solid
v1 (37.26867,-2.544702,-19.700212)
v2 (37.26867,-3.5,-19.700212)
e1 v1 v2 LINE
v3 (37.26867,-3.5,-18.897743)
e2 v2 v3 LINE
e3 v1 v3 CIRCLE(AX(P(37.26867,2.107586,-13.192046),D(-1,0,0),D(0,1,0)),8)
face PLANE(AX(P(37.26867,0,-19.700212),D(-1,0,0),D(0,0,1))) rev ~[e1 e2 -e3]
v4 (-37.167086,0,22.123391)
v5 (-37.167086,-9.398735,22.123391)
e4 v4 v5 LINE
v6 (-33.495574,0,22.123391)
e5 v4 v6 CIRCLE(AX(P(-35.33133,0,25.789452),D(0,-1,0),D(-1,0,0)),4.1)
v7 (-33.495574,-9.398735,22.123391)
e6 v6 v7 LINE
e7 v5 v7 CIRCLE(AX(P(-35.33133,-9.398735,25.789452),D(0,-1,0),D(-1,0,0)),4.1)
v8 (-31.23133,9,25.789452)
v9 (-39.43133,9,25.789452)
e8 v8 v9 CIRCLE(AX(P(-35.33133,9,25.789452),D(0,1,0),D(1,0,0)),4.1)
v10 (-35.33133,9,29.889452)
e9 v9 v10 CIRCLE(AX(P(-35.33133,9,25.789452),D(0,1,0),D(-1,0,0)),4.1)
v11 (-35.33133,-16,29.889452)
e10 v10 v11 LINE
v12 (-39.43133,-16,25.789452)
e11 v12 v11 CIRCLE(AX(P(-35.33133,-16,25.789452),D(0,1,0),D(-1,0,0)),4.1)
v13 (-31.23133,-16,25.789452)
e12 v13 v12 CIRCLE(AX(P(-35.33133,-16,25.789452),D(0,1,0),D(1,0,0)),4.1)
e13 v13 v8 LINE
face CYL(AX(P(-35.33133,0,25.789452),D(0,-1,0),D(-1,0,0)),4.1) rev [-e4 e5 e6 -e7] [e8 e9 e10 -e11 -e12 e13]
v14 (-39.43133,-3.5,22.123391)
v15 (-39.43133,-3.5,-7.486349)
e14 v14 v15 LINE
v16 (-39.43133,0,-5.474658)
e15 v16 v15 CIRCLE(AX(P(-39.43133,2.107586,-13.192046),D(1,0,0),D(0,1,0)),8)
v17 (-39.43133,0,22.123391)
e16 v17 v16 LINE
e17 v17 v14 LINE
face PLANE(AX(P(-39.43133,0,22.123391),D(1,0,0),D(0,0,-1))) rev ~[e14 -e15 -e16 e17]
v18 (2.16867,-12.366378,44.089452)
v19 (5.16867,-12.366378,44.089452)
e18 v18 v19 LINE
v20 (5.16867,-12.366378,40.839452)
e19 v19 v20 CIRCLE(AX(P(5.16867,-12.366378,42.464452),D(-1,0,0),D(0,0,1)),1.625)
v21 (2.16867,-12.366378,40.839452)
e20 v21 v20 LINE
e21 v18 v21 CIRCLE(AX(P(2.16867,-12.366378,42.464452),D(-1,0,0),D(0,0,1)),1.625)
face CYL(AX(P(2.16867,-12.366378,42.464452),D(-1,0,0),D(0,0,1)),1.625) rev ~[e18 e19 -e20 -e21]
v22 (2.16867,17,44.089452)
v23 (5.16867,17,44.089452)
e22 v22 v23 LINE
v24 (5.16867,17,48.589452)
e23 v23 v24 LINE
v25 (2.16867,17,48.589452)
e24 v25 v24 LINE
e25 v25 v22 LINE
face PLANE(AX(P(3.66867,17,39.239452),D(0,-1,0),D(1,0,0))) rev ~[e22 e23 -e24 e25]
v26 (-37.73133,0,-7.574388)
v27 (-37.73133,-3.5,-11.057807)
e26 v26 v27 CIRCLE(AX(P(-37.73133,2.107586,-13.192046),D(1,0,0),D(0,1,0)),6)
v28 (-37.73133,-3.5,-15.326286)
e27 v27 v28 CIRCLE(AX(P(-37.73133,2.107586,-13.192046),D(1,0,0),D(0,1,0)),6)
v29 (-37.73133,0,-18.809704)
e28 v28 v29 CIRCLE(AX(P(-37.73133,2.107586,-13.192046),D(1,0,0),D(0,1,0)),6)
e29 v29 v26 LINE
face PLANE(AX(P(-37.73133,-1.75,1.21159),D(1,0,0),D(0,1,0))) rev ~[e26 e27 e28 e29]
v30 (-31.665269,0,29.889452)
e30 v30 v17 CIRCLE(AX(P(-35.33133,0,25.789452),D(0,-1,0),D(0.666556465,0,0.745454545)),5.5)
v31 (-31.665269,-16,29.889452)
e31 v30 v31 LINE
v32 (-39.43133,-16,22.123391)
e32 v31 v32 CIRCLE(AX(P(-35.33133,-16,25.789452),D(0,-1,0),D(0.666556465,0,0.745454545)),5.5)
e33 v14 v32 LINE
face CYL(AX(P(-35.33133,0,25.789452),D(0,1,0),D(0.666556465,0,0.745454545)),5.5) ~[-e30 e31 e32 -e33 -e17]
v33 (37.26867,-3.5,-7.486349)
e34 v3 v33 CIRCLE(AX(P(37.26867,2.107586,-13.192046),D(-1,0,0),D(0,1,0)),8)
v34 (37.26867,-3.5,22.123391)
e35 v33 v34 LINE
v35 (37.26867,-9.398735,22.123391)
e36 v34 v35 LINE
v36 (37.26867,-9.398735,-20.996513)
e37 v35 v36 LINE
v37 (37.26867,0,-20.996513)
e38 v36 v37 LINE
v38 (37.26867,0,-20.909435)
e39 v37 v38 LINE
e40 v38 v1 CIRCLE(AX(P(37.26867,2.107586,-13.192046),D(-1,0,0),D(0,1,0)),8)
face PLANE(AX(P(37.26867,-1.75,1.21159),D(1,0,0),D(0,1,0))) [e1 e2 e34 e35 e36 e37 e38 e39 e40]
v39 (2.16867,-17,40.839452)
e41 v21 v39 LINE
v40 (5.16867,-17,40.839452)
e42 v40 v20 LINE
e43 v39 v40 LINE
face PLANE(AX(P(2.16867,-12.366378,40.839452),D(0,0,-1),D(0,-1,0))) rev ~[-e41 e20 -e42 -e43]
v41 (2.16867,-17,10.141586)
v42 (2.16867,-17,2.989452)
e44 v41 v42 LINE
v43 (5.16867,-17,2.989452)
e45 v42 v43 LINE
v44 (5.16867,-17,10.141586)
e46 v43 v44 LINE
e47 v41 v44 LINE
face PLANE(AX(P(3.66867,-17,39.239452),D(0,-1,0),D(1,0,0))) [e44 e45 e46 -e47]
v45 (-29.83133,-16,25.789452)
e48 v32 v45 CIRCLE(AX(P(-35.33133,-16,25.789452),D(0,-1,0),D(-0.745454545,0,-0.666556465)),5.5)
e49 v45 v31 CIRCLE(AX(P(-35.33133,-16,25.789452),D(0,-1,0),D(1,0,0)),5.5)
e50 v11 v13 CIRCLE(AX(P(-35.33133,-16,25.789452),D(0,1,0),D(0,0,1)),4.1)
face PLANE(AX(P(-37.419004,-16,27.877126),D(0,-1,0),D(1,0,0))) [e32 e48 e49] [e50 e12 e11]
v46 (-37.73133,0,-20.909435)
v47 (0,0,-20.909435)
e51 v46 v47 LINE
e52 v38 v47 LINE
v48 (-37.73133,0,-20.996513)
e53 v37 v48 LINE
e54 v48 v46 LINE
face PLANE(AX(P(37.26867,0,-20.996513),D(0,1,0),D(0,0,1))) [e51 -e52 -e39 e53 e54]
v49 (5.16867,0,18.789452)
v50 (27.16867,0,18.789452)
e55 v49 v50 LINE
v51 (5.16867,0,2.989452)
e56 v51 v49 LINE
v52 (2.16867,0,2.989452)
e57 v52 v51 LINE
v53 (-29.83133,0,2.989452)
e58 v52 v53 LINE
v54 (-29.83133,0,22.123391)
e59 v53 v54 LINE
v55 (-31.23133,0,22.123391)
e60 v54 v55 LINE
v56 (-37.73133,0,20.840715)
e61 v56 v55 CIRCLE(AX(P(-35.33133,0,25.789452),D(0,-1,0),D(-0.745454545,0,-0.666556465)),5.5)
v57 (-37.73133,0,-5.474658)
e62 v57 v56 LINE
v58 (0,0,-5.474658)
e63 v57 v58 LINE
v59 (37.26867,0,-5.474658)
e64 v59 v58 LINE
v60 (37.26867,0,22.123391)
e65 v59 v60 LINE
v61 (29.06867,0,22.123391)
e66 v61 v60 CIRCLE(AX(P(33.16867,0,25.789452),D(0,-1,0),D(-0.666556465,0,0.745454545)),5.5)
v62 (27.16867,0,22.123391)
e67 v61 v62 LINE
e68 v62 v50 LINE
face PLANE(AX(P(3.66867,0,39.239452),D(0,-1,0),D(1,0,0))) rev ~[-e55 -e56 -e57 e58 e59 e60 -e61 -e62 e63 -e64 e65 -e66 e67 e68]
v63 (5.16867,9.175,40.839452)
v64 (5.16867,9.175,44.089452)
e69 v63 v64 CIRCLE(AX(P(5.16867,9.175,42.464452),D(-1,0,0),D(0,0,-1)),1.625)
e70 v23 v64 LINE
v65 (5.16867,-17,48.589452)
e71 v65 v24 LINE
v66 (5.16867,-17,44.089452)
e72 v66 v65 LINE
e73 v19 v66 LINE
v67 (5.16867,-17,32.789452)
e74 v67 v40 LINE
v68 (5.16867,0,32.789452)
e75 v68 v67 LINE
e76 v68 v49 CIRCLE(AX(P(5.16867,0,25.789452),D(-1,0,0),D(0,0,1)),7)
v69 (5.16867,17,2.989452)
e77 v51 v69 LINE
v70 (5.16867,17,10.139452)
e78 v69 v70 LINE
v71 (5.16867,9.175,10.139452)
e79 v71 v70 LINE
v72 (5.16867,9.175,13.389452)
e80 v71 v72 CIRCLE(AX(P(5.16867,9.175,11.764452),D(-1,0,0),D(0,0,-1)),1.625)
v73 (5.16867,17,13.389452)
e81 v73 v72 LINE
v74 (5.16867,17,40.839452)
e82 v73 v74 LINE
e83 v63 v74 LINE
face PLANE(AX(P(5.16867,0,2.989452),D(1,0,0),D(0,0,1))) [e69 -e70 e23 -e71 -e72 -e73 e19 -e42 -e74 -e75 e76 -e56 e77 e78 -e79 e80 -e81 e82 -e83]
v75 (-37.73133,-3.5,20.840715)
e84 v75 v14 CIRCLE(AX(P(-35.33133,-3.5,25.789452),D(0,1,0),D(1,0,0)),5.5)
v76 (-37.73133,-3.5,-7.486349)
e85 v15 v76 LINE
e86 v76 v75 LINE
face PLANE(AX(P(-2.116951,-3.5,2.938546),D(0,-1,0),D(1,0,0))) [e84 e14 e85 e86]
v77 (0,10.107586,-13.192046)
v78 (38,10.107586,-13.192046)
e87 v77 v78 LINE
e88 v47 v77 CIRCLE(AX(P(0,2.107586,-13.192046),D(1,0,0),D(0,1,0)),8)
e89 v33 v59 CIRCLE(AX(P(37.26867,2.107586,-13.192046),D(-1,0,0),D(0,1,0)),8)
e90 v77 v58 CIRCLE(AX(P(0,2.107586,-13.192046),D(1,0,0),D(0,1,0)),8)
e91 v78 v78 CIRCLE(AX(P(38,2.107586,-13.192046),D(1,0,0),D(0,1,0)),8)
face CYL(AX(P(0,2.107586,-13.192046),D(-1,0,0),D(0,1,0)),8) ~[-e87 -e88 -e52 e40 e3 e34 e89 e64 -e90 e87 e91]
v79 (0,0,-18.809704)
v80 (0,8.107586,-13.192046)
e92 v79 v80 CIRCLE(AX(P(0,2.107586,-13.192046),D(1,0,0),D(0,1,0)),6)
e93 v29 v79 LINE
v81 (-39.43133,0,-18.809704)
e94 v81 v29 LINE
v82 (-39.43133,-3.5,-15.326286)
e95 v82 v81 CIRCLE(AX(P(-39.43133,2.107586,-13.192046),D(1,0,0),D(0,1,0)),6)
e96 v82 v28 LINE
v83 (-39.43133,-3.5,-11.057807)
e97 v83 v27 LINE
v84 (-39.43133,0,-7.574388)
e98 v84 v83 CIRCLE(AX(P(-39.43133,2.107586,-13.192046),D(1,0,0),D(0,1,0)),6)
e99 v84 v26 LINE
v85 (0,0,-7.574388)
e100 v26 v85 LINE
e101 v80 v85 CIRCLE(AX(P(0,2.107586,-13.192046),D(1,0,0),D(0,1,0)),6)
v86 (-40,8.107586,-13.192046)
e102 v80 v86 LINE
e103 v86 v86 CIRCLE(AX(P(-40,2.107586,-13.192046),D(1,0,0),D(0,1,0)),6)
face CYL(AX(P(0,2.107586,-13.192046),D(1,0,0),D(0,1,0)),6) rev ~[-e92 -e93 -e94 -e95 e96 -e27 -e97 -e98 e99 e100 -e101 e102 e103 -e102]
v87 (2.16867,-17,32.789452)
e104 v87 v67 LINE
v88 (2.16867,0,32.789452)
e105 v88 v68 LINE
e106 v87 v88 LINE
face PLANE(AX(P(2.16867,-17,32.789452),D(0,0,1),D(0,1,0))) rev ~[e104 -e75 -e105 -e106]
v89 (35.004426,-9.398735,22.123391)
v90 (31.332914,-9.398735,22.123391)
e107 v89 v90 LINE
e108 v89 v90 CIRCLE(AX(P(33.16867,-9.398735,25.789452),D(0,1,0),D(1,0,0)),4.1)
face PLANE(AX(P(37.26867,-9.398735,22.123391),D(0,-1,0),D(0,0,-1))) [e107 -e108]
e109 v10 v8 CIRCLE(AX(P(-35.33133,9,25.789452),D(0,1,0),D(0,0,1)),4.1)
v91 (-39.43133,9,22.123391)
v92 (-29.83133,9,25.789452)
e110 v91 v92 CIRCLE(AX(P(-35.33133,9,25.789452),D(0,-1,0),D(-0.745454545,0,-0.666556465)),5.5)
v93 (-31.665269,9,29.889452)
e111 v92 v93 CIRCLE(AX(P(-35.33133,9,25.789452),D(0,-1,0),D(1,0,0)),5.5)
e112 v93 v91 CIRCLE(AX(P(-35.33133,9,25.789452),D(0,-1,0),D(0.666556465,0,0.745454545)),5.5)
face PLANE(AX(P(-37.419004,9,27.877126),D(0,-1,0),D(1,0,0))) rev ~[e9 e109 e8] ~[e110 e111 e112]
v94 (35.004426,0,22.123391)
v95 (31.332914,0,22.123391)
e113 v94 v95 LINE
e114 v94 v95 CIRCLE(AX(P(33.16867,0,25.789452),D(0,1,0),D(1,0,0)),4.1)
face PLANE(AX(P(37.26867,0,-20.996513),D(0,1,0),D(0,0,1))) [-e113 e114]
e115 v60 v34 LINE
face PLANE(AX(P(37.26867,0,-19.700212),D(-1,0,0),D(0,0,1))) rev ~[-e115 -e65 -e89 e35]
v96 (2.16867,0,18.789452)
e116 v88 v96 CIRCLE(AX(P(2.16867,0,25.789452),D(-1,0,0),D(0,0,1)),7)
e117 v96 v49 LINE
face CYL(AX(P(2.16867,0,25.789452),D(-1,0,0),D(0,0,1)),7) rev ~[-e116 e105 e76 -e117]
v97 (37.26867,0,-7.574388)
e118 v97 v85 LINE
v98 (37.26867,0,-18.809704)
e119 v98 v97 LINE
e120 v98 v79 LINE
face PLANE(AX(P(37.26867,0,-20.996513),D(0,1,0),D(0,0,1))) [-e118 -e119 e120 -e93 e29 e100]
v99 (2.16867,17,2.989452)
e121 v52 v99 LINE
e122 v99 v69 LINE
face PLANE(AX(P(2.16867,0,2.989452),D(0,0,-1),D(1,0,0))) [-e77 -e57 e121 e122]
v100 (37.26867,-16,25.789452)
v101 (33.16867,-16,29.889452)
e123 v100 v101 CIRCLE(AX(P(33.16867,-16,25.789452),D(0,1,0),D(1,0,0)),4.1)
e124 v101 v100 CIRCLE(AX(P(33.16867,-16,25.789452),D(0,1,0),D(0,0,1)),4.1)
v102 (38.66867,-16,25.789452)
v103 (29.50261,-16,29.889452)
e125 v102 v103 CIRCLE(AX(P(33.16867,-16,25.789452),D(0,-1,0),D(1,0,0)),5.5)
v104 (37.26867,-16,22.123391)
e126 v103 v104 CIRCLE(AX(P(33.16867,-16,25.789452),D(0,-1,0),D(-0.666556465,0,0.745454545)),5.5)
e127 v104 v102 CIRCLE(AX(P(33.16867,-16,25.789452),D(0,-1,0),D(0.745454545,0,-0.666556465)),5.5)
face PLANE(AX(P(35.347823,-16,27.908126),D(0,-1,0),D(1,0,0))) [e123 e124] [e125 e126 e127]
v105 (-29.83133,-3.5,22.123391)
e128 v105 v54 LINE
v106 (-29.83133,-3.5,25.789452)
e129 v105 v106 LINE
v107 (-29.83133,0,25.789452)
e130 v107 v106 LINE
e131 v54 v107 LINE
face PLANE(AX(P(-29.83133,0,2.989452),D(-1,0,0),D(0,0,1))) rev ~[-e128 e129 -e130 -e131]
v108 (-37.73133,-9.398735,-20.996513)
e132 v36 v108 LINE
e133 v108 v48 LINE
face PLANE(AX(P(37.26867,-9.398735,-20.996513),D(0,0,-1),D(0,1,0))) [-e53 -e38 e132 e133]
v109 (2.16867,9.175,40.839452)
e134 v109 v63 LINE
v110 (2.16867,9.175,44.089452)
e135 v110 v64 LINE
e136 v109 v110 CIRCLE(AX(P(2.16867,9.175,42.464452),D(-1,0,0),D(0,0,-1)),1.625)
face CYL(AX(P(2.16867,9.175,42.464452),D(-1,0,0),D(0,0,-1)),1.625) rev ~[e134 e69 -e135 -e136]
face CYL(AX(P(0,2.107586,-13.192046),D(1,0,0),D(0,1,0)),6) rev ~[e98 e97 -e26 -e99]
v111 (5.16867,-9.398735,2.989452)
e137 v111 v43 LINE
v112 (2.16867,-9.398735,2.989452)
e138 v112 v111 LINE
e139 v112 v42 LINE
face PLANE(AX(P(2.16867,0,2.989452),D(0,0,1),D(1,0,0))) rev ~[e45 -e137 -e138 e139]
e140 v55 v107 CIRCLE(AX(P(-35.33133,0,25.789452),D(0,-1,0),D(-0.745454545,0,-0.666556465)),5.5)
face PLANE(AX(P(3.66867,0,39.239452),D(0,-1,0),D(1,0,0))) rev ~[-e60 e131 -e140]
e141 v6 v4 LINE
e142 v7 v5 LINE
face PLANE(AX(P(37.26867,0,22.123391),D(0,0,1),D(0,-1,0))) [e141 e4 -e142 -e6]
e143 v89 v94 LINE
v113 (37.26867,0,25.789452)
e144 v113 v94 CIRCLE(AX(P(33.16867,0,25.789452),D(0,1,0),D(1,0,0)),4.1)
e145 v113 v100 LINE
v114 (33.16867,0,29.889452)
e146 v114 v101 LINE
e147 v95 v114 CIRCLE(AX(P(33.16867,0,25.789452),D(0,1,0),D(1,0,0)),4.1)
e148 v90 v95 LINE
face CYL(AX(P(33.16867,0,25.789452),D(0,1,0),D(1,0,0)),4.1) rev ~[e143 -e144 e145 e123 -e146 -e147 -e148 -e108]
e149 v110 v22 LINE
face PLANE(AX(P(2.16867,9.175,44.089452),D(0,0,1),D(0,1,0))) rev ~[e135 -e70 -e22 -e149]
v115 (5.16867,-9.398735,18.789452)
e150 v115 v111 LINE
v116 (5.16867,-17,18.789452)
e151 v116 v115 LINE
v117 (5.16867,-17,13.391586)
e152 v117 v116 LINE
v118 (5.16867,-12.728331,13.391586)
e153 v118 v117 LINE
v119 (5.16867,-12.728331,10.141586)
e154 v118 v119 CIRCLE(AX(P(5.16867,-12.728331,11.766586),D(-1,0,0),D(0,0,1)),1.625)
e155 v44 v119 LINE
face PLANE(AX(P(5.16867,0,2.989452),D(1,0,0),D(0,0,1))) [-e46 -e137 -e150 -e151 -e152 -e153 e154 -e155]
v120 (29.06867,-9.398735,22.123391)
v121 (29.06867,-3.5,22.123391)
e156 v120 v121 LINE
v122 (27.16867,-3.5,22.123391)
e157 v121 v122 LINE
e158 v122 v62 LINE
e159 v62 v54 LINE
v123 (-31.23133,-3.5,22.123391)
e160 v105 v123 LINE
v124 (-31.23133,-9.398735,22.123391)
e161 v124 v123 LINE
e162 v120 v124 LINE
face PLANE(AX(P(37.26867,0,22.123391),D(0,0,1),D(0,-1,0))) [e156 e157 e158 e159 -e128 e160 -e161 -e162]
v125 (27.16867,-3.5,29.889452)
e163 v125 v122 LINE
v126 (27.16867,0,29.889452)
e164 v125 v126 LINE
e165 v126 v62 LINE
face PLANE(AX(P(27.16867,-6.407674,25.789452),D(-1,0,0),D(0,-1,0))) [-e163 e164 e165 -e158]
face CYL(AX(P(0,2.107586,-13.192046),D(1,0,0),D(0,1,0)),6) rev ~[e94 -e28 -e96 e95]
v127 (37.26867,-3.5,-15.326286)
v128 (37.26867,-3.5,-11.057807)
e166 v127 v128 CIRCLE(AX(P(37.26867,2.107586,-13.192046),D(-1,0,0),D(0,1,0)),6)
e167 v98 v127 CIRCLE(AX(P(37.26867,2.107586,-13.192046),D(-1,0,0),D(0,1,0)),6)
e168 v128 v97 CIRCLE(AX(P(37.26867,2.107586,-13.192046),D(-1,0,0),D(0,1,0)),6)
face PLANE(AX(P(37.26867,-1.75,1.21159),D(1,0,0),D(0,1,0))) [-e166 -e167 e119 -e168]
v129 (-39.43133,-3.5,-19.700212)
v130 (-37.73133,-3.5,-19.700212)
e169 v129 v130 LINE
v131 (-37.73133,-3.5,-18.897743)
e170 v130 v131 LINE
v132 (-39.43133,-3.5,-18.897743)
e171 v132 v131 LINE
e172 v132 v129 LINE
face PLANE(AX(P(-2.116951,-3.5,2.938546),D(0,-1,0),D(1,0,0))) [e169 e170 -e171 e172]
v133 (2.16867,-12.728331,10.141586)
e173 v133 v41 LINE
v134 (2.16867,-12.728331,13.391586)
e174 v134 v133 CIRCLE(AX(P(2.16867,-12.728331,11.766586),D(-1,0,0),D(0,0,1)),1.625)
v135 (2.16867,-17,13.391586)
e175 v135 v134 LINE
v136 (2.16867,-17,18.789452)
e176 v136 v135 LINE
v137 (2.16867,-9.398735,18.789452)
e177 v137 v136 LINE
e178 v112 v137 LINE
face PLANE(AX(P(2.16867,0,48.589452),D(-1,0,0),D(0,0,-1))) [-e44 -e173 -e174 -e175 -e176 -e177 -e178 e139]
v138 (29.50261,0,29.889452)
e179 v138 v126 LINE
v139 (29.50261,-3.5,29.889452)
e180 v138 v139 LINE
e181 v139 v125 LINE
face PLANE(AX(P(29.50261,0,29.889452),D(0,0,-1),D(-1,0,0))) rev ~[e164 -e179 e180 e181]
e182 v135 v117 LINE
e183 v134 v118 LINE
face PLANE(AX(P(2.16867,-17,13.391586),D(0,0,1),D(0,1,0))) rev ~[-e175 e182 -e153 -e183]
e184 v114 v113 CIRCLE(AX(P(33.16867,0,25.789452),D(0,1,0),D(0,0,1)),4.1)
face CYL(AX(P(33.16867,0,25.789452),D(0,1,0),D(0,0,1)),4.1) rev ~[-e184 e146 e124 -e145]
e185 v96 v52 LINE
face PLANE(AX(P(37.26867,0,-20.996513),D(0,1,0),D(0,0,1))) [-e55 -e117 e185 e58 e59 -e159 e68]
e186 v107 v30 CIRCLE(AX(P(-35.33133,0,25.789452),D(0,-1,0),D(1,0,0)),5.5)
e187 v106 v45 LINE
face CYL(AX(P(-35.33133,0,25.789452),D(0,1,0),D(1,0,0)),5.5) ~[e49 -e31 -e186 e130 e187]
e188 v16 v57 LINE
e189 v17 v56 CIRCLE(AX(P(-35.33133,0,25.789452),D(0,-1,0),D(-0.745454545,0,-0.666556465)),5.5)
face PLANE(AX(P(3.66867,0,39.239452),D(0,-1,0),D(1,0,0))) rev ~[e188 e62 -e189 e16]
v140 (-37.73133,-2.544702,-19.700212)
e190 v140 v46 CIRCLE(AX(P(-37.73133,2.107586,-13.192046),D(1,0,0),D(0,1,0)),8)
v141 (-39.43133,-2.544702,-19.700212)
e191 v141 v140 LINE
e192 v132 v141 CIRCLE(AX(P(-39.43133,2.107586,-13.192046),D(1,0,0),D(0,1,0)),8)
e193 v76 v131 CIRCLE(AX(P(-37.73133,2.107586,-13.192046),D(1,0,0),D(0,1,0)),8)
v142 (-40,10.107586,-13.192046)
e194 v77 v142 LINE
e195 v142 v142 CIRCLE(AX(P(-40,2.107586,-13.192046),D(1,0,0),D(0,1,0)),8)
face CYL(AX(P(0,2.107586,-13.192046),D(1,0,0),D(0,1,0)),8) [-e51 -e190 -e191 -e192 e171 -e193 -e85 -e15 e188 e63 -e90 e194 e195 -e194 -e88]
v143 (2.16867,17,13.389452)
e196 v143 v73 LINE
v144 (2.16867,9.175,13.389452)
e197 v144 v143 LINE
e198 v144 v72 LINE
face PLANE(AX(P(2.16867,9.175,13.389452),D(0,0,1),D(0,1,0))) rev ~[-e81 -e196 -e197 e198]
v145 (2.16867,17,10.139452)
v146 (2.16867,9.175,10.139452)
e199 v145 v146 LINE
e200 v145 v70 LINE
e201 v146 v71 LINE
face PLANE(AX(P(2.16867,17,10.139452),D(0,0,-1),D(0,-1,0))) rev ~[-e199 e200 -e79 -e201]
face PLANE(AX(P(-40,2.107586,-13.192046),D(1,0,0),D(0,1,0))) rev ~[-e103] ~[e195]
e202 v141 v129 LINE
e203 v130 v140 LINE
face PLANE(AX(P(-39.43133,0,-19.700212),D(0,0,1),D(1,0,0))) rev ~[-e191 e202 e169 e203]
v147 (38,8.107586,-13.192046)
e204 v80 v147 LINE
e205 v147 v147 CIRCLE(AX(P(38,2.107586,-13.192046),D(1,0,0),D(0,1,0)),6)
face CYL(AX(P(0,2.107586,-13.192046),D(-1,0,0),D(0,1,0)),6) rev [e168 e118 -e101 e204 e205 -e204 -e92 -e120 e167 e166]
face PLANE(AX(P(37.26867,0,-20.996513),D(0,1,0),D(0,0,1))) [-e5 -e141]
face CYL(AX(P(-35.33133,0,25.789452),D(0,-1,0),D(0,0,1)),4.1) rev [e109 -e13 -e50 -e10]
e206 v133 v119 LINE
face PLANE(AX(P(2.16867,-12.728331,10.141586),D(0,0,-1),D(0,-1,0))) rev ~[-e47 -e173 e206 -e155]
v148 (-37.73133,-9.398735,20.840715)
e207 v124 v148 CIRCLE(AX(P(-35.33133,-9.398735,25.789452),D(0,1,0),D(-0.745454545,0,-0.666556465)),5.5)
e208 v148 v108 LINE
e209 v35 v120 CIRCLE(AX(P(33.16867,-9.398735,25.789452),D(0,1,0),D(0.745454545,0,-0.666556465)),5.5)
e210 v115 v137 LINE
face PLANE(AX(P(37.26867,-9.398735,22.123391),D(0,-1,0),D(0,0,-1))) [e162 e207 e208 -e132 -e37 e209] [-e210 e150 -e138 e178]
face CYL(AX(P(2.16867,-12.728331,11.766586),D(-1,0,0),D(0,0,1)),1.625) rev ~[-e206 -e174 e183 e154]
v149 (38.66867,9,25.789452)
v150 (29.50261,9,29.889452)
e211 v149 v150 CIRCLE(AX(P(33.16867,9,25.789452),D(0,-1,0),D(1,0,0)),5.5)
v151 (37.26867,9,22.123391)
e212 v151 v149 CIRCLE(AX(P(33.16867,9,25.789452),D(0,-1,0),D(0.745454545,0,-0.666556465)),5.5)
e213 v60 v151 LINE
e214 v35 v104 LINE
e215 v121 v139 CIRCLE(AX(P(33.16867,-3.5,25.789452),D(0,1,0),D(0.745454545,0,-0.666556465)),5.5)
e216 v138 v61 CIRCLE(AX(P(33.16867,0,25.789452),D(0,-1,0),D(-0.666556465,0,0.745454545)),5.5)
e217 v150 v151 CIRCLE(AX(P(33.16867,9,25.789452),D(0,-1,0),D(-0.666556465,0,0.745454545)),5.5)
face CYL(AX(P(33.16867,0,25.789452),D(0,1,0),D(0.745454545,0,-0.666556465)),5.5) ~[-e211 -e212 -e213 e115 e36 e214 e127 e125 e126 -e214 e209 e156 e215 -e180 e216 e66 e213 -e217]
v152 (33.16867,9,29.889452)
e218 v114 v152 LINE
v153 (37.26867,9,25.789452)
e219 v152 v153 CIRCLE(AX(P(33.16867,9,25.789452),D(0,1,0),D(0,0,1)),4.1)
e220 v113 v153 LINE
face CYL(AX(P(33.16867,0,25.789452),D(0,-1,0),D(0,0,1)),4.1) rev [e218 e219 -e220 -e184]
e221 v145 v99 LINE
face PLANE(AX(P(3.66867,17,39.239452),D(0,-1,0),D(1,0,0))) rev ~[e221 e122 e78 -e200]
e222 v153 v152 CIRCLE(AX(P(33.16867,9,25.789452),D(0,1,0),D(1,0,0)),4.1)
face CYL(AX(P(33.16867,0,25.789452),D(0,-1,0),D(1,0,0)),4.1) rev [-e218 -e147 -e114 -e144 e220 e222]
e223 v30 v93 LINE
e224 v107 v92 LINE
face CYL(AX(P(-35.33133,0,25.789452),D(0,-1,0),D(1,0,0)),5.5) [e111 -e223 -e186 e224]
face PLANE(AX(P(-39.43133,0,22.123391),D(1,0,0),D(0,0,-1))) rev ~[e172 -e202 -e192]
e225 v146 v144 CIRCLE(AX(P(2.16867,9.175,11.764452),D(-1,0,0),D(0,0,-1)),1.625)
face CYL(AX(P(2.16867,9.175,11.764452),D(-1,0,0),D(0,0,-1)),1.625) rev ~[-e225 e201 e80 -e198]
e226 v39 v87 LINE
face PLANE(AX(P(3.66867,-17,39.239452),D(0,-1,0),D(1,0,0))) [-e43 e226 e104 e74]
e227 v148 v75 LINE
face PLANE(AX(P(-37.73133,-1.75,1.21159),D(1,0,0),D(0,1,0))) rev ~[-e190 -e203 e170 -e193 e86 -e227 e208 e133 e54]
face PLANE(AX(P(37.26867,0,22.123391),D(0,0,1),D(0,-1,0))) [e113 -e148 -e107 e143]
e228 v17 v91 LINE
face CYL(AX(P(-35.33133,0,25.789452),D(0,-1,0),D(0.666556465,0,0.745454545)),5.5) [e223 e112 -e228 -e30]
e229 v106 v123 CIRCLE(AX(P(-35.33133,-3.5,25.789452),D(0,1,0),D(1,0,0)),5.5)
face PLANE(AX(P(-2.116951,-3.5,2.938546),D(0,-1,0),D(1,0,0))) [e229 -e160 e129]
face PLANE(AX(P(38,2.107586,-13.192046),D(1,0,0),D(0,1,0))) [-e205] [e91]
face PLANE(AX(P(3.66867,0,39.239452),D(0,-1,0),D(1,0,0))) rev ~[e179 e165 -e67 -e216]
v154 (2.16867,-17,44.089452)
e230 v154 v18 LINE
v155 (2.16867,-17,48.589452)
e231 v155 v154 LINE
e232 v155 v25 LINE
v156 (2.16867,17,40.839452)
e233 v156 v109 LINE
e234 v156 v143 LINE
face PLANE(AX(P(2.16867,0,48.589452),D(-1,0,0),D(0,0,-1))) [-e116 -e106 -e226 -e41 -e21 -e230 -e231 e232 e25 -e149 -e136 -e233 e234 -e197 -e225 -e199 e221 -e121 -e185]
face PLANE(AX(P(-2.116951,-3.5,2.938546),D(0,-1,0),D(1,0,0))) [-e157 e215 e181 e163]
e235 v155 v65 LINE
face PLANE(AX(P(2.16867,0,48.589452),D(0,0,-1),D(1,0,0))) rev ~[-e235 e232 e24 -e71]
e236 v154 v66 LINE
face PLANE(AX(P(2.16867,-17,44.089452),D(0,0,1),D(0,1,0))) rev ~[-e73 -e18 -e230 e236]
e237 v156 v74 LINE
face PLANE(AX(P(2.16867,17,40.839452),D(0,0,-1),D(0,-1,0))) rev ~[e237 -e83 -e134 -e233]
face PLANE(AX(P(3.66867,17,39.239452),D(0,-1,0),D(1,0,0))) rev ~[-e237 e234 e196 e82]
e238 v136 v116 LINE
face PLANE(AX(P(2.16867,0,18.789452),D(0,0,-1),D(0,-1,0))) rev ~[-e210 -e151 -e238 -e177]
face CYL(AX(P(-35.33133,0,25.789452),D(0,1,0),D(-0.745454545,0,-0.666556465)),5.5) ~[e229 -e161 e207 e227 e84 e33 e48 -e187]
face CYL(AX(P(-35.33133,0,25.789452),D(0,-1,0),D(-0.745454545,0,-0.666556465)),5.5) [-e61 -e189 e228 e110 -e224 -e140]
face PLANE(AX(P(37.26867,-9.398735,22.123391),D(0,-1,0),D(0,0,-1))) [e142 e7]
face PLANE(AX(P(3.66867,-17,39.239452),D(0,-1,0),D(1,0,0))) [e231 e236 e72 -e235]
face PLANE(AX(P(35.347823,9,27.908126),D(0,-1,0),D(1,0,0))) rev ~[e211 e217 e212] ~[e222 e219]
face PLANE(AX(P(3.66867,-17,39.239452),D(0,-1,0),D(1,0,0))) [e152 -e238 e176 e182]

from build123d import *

# Parameters (mm, degrees)
F1_DEPTH       = 16
F1_DEPTH_BACK  = 9
F2_DEPTH       = 3.5
F0_W           = 3
F0_H           = 18.7
F0_H_2         = 26.9
F3_DEPTH       = 17
F3_DEPTH_BACK  = 17
F5_DEPTH       = 25
F7_DEPTH       = 25
F8_R           = 8
F8_R_2         = 6
F10_DEPTH      = 38
F10_DEPTH_BACK = 40
F11_DEPTH      = 40.8323298166
F11_DEPTH_BACK = 40
F9_W           = 3.5
F9_H           = 41.8236031978
F12_DEPTH      = 75


with BuildPart() as f1:
    # F0 (on Front) → F1 (new body, two sides)
    with BuildSketch(Plane.XZ) as f1_sk:
        with BuildLine():
            ThreePointArc((-39.4313298166, 25.7894517173), (-38.2304676194, 28.6885895201), (-35.3313298166, 29.8894517173))
            Line((-35.3313298166, 29.8894517173), (-31.6652692606, 29.8894517173))
            ThreePointArc((-31.6652692606, 29.8894517173), (-39.2204171131, 29.6785390138), (-39.4313298166, 22.1233911613))
            Line((-39.4313298166, 22.1233911613), (-39.4313298166, 25.7894517173))
        make_face()
        with BuildLine():
            Line((-31.6652692606, 29.8894517173), (-35.3313298166, 29.8894517173))
            ThreePointArc((-35.3313298166, 29.8894517173), (-32.4321920137, 28.6885895201), (-31.2313298166, 25.7894517173))
            ThreePointArc((-31.2313298166, 25.7894517173), (-35.3313298166, 21.6894517173), (-39.4313298166, 25.7894517173))
            Line((-39.4313298166, 25.7894517173), (-39.4313298166, 22.1233911613))
            ThreePointArc((-39.4313298166, 22.1233911613), (-33.3691881295, 20.6513586858), (-29.8313298166, 25.7894517173))
            ThreePointArc((-29.8313298166, 25.7894517173), (-30.3107056991, 28.0351884496), (-31.6652692606, 29.8894517173))
        make_face()
    extrude(amount=F1_DEPTH)
    extrude(f1_sk.sketch, amount=-F1_DEPTH_BACK)



with BuildPart() as f1b:
    # F0 (on Front) → F1, piece 2 (new body, two sides)
    with BuildSketch(Plane.XZ) as f1_2_sk:
        with BuildLine():
            ThreePointArc((38.6686701834, 25.7894517173), (35.4144069158, 30.8100758347), (29.5026096275, 29.8894517173))
            Line((29.5026096275, 29.8894517173), (33.1686701834, 29.8894517173))
            ThreePointArc((33.1686701834, 29.8894517173), (36.0678079863, 28.6885895201), (37.2686701834, 25.7894517173))
            Line((37.2686701834, 25.7894517173), (37.2686701834, 22.1233911613))
            ThreePointArc((37.2686701834, 22.1233911613), (38.3067632149, 23.8273100302), (38.6686701834, 25.7894517173))
        make_face()
        with BuildLine():
            Line((33.1686701834, 29.8894517173), (29.5026096275, 29.8894517173))
            ThreePointArc((29.5026096275, 29.8894517173), (29.2795828869, 21.9003644207), (37.2686701834, 22.1233911613))
            Line((37.2686701834, 22.1233911613), (37.2686701834, 25.7894517173))
            ThreePointArc((37.2686701834, 25.7894517173), (30.2695323806, 22.8903139144), (33.1686701834, 29.8894517173))
        make_face()
    extrude(amount=F1_DEPTH)
    extrude(f1_2_sk.sketch, amount=-F1_DEPTH_BACK)


with BuildPart() as f1_1:
    add(f1.part)

    add(f1b.part)  # F2 merges F1b
    # F0 (on Front) → F2 (join)
    with BuildSketch(Plane.XZ):
        with BuildLine():
            Line((-29.8313298166, 2.9894517173), (-29.8313298166, 25.7894517173))
            ThreePointArc((-29.8313298166, 25.7894517173), (-33.3691881295, 20.6513586858), (-39.4313298166, 22.1233911613))
            Line((-39.4313298166, 22.1233911613), (-39.4313298166, -19.7002120365))
            Line((-39.4313298166, -19.7002120365), (37.2686701834, -19.7002120365))
            Line((37.2686701834, -19.7002120365), (37.2686701834, 22.1233911613))
            ThreePointArc((37.2686701834, 22.1233911613), (29.2795828869, 21.9003644207), (29.5026096275, 29.8894517173))
            Line((29.5026096275, 29.8894517173), (5.1686701834, 29.8894517173))
            Line((5.1686701834, 29.8894517173), (5.1686701834, 2.9894517173))
            Line((5.1686701834, 2.9894517173), (2.1686701834, 2.9894517173))
            Line((2.1686701834, 2.9894517173), (-29.8313298166, 2.9894517173))
        make_face()
    extrude(amount=F2_DEPTH)

    # F0 (on Front) → F3 (join, two sides)
    with BuildSketch(Plane.XZ) as f3_sk:
        with Locations((3.6686701834, 39.2394517173)):
            Rectangle(F0_W, F0_H)
        with Locations((3.6686701834, 16.4394517173)):
            Rectangle(F0_W, F0_H_2)
    extrude(amount=F3_DEPTH)
    extrude(f3_sk.sketch, amount=-F3_DEPTH_BACK)

    # F4 (on face) → F5 (cut)
    with BuildSketch(Plane(origin=(2.1686701834, 0, 0), x_dir=(0, -1, 0), z_dir=(-1, 0, 0))):
        with BuildLine():
            Line((17, 32.7894517173), (0, 32.7894517173))
            ThreePointArc((0, 32.7894517173), (-7, 25.7894517173), (0, 18.7894517173))
            Line((0, 18.7894517173), (17, 18.7894517173))
            Line((17, 18.7894517173), (17, 32.7894517173))
        make_face()
    extrude(amount=-F5_DEPTH, mode=Mode.SUBTRACT)

    # F6 (on face) → F7 (cut)
    with BuildSketch(Plane(origin=(2.1686701834, 0, 0), x_dir=(0, -1, 0), z_dir=(-1, 0, 0))):
        with BuildLine():
            Line((-9.175, 44.0894517173), (-17, 44.0894517173))
            Line((-17, 44.0894517173), (-17, 40.8394517173))
            Line((-17, 40.8394517173), (-9.175, 40.8394517173))
            ThreePointArc((-9.175, 40.8394517173), (-7.55, 42.4644517173), (-9.175, 44.0894517173))
        make_face()
        with BuildLine():
            Line((17, 44.0894517173), (12.3663777485, 44.0894517173))
            ThreePointArc((12.3663777485, 44.0894517173), (10.7413777485, 42.4644517173), (12.3663777485, 40.8394517173))
            Line((12.3663777485, 40.8394517173), (17, 40.8394517173))
            Line((17, 40.8394517173), (17, 44.0894517173))
        make_face()
        with BuildLine():
            Line((17, 10.1415855085), (17, 13.3915855085))
            Line((17, 13.3915855085), (12.7283311018, 13.3915855085))
            ThreePointArc((12.7283311018, 13.3915855085), (11.1033311018, 11.7665855085), (12.7283311018, 10.1415855085))
            Line((12.7283311018, 10.1415855085), (17, 10.1415855085))
        make_face()
        with BuildLine():
            Line((-9.175, 13.3894517173), (-17, 13.3894517173))
            Line((-17, 13.3894517173), (-17, 10.1394517173))
            Line((-17, 10.1394517173), (-9.175, 10.1394517173))
            ThreePointArc((-9.175, 10.1394517173), (-7.55, 11.7644517173), (-9.175, 13.3894517173))
        make_face()
    extrude(amount=-F7_DEPTH, mode=Mode.SUBTRACT)

    # F8 (on Right) → F10 (join, two sides)
    with BuildSketch(Plane.YZ) as f10_sk:
        with Locations((2.1075860132, -13.1920464151)):
            Circle(F8_R)
        with Locations((2.1075860132, -13.1920464151)):
            Circle(F8_R_2, mode=Mode.SUBTRACT)
    extrude(amount=F10_DEPTH)
    extrude(f10_sk.sketch, amount=-F10_DEPTH_BACK)

    # F8 (on Right) → F11 (cut, two sides)
    with BuildSketch(Plane.YZ) as f11_sk:
        with Locations((2.1075860132, -13.1920464151)):
            Circle(F8_R_2)
    extrude(amount=-F11_DEPTH, mode=Mode.SUBTRACT)
    extrude(f11_sk.sketch, amount=F11_DEPTH_BACK, mode=Mode.SUBTRACT)

    # F9 (on face) → F12 (join)
    with BuildSketch(Plane.YZ.offset(37.2686701834)):
        with Locations((-1.75, 1.2115895624)):
            Rectangle(F9_W, F9_H)
        Polygon((-3.5, -19.7002120365), (-3.5, 22.1233911613), (-9.3987351283, 22.1233911613), (-9.3987351283, -20.9965128452), (0, -20.9965128452), (0, -19.7002120365), align=None)
    extrude(amount=-F12_DEPTH)


solid = f1_1.part
